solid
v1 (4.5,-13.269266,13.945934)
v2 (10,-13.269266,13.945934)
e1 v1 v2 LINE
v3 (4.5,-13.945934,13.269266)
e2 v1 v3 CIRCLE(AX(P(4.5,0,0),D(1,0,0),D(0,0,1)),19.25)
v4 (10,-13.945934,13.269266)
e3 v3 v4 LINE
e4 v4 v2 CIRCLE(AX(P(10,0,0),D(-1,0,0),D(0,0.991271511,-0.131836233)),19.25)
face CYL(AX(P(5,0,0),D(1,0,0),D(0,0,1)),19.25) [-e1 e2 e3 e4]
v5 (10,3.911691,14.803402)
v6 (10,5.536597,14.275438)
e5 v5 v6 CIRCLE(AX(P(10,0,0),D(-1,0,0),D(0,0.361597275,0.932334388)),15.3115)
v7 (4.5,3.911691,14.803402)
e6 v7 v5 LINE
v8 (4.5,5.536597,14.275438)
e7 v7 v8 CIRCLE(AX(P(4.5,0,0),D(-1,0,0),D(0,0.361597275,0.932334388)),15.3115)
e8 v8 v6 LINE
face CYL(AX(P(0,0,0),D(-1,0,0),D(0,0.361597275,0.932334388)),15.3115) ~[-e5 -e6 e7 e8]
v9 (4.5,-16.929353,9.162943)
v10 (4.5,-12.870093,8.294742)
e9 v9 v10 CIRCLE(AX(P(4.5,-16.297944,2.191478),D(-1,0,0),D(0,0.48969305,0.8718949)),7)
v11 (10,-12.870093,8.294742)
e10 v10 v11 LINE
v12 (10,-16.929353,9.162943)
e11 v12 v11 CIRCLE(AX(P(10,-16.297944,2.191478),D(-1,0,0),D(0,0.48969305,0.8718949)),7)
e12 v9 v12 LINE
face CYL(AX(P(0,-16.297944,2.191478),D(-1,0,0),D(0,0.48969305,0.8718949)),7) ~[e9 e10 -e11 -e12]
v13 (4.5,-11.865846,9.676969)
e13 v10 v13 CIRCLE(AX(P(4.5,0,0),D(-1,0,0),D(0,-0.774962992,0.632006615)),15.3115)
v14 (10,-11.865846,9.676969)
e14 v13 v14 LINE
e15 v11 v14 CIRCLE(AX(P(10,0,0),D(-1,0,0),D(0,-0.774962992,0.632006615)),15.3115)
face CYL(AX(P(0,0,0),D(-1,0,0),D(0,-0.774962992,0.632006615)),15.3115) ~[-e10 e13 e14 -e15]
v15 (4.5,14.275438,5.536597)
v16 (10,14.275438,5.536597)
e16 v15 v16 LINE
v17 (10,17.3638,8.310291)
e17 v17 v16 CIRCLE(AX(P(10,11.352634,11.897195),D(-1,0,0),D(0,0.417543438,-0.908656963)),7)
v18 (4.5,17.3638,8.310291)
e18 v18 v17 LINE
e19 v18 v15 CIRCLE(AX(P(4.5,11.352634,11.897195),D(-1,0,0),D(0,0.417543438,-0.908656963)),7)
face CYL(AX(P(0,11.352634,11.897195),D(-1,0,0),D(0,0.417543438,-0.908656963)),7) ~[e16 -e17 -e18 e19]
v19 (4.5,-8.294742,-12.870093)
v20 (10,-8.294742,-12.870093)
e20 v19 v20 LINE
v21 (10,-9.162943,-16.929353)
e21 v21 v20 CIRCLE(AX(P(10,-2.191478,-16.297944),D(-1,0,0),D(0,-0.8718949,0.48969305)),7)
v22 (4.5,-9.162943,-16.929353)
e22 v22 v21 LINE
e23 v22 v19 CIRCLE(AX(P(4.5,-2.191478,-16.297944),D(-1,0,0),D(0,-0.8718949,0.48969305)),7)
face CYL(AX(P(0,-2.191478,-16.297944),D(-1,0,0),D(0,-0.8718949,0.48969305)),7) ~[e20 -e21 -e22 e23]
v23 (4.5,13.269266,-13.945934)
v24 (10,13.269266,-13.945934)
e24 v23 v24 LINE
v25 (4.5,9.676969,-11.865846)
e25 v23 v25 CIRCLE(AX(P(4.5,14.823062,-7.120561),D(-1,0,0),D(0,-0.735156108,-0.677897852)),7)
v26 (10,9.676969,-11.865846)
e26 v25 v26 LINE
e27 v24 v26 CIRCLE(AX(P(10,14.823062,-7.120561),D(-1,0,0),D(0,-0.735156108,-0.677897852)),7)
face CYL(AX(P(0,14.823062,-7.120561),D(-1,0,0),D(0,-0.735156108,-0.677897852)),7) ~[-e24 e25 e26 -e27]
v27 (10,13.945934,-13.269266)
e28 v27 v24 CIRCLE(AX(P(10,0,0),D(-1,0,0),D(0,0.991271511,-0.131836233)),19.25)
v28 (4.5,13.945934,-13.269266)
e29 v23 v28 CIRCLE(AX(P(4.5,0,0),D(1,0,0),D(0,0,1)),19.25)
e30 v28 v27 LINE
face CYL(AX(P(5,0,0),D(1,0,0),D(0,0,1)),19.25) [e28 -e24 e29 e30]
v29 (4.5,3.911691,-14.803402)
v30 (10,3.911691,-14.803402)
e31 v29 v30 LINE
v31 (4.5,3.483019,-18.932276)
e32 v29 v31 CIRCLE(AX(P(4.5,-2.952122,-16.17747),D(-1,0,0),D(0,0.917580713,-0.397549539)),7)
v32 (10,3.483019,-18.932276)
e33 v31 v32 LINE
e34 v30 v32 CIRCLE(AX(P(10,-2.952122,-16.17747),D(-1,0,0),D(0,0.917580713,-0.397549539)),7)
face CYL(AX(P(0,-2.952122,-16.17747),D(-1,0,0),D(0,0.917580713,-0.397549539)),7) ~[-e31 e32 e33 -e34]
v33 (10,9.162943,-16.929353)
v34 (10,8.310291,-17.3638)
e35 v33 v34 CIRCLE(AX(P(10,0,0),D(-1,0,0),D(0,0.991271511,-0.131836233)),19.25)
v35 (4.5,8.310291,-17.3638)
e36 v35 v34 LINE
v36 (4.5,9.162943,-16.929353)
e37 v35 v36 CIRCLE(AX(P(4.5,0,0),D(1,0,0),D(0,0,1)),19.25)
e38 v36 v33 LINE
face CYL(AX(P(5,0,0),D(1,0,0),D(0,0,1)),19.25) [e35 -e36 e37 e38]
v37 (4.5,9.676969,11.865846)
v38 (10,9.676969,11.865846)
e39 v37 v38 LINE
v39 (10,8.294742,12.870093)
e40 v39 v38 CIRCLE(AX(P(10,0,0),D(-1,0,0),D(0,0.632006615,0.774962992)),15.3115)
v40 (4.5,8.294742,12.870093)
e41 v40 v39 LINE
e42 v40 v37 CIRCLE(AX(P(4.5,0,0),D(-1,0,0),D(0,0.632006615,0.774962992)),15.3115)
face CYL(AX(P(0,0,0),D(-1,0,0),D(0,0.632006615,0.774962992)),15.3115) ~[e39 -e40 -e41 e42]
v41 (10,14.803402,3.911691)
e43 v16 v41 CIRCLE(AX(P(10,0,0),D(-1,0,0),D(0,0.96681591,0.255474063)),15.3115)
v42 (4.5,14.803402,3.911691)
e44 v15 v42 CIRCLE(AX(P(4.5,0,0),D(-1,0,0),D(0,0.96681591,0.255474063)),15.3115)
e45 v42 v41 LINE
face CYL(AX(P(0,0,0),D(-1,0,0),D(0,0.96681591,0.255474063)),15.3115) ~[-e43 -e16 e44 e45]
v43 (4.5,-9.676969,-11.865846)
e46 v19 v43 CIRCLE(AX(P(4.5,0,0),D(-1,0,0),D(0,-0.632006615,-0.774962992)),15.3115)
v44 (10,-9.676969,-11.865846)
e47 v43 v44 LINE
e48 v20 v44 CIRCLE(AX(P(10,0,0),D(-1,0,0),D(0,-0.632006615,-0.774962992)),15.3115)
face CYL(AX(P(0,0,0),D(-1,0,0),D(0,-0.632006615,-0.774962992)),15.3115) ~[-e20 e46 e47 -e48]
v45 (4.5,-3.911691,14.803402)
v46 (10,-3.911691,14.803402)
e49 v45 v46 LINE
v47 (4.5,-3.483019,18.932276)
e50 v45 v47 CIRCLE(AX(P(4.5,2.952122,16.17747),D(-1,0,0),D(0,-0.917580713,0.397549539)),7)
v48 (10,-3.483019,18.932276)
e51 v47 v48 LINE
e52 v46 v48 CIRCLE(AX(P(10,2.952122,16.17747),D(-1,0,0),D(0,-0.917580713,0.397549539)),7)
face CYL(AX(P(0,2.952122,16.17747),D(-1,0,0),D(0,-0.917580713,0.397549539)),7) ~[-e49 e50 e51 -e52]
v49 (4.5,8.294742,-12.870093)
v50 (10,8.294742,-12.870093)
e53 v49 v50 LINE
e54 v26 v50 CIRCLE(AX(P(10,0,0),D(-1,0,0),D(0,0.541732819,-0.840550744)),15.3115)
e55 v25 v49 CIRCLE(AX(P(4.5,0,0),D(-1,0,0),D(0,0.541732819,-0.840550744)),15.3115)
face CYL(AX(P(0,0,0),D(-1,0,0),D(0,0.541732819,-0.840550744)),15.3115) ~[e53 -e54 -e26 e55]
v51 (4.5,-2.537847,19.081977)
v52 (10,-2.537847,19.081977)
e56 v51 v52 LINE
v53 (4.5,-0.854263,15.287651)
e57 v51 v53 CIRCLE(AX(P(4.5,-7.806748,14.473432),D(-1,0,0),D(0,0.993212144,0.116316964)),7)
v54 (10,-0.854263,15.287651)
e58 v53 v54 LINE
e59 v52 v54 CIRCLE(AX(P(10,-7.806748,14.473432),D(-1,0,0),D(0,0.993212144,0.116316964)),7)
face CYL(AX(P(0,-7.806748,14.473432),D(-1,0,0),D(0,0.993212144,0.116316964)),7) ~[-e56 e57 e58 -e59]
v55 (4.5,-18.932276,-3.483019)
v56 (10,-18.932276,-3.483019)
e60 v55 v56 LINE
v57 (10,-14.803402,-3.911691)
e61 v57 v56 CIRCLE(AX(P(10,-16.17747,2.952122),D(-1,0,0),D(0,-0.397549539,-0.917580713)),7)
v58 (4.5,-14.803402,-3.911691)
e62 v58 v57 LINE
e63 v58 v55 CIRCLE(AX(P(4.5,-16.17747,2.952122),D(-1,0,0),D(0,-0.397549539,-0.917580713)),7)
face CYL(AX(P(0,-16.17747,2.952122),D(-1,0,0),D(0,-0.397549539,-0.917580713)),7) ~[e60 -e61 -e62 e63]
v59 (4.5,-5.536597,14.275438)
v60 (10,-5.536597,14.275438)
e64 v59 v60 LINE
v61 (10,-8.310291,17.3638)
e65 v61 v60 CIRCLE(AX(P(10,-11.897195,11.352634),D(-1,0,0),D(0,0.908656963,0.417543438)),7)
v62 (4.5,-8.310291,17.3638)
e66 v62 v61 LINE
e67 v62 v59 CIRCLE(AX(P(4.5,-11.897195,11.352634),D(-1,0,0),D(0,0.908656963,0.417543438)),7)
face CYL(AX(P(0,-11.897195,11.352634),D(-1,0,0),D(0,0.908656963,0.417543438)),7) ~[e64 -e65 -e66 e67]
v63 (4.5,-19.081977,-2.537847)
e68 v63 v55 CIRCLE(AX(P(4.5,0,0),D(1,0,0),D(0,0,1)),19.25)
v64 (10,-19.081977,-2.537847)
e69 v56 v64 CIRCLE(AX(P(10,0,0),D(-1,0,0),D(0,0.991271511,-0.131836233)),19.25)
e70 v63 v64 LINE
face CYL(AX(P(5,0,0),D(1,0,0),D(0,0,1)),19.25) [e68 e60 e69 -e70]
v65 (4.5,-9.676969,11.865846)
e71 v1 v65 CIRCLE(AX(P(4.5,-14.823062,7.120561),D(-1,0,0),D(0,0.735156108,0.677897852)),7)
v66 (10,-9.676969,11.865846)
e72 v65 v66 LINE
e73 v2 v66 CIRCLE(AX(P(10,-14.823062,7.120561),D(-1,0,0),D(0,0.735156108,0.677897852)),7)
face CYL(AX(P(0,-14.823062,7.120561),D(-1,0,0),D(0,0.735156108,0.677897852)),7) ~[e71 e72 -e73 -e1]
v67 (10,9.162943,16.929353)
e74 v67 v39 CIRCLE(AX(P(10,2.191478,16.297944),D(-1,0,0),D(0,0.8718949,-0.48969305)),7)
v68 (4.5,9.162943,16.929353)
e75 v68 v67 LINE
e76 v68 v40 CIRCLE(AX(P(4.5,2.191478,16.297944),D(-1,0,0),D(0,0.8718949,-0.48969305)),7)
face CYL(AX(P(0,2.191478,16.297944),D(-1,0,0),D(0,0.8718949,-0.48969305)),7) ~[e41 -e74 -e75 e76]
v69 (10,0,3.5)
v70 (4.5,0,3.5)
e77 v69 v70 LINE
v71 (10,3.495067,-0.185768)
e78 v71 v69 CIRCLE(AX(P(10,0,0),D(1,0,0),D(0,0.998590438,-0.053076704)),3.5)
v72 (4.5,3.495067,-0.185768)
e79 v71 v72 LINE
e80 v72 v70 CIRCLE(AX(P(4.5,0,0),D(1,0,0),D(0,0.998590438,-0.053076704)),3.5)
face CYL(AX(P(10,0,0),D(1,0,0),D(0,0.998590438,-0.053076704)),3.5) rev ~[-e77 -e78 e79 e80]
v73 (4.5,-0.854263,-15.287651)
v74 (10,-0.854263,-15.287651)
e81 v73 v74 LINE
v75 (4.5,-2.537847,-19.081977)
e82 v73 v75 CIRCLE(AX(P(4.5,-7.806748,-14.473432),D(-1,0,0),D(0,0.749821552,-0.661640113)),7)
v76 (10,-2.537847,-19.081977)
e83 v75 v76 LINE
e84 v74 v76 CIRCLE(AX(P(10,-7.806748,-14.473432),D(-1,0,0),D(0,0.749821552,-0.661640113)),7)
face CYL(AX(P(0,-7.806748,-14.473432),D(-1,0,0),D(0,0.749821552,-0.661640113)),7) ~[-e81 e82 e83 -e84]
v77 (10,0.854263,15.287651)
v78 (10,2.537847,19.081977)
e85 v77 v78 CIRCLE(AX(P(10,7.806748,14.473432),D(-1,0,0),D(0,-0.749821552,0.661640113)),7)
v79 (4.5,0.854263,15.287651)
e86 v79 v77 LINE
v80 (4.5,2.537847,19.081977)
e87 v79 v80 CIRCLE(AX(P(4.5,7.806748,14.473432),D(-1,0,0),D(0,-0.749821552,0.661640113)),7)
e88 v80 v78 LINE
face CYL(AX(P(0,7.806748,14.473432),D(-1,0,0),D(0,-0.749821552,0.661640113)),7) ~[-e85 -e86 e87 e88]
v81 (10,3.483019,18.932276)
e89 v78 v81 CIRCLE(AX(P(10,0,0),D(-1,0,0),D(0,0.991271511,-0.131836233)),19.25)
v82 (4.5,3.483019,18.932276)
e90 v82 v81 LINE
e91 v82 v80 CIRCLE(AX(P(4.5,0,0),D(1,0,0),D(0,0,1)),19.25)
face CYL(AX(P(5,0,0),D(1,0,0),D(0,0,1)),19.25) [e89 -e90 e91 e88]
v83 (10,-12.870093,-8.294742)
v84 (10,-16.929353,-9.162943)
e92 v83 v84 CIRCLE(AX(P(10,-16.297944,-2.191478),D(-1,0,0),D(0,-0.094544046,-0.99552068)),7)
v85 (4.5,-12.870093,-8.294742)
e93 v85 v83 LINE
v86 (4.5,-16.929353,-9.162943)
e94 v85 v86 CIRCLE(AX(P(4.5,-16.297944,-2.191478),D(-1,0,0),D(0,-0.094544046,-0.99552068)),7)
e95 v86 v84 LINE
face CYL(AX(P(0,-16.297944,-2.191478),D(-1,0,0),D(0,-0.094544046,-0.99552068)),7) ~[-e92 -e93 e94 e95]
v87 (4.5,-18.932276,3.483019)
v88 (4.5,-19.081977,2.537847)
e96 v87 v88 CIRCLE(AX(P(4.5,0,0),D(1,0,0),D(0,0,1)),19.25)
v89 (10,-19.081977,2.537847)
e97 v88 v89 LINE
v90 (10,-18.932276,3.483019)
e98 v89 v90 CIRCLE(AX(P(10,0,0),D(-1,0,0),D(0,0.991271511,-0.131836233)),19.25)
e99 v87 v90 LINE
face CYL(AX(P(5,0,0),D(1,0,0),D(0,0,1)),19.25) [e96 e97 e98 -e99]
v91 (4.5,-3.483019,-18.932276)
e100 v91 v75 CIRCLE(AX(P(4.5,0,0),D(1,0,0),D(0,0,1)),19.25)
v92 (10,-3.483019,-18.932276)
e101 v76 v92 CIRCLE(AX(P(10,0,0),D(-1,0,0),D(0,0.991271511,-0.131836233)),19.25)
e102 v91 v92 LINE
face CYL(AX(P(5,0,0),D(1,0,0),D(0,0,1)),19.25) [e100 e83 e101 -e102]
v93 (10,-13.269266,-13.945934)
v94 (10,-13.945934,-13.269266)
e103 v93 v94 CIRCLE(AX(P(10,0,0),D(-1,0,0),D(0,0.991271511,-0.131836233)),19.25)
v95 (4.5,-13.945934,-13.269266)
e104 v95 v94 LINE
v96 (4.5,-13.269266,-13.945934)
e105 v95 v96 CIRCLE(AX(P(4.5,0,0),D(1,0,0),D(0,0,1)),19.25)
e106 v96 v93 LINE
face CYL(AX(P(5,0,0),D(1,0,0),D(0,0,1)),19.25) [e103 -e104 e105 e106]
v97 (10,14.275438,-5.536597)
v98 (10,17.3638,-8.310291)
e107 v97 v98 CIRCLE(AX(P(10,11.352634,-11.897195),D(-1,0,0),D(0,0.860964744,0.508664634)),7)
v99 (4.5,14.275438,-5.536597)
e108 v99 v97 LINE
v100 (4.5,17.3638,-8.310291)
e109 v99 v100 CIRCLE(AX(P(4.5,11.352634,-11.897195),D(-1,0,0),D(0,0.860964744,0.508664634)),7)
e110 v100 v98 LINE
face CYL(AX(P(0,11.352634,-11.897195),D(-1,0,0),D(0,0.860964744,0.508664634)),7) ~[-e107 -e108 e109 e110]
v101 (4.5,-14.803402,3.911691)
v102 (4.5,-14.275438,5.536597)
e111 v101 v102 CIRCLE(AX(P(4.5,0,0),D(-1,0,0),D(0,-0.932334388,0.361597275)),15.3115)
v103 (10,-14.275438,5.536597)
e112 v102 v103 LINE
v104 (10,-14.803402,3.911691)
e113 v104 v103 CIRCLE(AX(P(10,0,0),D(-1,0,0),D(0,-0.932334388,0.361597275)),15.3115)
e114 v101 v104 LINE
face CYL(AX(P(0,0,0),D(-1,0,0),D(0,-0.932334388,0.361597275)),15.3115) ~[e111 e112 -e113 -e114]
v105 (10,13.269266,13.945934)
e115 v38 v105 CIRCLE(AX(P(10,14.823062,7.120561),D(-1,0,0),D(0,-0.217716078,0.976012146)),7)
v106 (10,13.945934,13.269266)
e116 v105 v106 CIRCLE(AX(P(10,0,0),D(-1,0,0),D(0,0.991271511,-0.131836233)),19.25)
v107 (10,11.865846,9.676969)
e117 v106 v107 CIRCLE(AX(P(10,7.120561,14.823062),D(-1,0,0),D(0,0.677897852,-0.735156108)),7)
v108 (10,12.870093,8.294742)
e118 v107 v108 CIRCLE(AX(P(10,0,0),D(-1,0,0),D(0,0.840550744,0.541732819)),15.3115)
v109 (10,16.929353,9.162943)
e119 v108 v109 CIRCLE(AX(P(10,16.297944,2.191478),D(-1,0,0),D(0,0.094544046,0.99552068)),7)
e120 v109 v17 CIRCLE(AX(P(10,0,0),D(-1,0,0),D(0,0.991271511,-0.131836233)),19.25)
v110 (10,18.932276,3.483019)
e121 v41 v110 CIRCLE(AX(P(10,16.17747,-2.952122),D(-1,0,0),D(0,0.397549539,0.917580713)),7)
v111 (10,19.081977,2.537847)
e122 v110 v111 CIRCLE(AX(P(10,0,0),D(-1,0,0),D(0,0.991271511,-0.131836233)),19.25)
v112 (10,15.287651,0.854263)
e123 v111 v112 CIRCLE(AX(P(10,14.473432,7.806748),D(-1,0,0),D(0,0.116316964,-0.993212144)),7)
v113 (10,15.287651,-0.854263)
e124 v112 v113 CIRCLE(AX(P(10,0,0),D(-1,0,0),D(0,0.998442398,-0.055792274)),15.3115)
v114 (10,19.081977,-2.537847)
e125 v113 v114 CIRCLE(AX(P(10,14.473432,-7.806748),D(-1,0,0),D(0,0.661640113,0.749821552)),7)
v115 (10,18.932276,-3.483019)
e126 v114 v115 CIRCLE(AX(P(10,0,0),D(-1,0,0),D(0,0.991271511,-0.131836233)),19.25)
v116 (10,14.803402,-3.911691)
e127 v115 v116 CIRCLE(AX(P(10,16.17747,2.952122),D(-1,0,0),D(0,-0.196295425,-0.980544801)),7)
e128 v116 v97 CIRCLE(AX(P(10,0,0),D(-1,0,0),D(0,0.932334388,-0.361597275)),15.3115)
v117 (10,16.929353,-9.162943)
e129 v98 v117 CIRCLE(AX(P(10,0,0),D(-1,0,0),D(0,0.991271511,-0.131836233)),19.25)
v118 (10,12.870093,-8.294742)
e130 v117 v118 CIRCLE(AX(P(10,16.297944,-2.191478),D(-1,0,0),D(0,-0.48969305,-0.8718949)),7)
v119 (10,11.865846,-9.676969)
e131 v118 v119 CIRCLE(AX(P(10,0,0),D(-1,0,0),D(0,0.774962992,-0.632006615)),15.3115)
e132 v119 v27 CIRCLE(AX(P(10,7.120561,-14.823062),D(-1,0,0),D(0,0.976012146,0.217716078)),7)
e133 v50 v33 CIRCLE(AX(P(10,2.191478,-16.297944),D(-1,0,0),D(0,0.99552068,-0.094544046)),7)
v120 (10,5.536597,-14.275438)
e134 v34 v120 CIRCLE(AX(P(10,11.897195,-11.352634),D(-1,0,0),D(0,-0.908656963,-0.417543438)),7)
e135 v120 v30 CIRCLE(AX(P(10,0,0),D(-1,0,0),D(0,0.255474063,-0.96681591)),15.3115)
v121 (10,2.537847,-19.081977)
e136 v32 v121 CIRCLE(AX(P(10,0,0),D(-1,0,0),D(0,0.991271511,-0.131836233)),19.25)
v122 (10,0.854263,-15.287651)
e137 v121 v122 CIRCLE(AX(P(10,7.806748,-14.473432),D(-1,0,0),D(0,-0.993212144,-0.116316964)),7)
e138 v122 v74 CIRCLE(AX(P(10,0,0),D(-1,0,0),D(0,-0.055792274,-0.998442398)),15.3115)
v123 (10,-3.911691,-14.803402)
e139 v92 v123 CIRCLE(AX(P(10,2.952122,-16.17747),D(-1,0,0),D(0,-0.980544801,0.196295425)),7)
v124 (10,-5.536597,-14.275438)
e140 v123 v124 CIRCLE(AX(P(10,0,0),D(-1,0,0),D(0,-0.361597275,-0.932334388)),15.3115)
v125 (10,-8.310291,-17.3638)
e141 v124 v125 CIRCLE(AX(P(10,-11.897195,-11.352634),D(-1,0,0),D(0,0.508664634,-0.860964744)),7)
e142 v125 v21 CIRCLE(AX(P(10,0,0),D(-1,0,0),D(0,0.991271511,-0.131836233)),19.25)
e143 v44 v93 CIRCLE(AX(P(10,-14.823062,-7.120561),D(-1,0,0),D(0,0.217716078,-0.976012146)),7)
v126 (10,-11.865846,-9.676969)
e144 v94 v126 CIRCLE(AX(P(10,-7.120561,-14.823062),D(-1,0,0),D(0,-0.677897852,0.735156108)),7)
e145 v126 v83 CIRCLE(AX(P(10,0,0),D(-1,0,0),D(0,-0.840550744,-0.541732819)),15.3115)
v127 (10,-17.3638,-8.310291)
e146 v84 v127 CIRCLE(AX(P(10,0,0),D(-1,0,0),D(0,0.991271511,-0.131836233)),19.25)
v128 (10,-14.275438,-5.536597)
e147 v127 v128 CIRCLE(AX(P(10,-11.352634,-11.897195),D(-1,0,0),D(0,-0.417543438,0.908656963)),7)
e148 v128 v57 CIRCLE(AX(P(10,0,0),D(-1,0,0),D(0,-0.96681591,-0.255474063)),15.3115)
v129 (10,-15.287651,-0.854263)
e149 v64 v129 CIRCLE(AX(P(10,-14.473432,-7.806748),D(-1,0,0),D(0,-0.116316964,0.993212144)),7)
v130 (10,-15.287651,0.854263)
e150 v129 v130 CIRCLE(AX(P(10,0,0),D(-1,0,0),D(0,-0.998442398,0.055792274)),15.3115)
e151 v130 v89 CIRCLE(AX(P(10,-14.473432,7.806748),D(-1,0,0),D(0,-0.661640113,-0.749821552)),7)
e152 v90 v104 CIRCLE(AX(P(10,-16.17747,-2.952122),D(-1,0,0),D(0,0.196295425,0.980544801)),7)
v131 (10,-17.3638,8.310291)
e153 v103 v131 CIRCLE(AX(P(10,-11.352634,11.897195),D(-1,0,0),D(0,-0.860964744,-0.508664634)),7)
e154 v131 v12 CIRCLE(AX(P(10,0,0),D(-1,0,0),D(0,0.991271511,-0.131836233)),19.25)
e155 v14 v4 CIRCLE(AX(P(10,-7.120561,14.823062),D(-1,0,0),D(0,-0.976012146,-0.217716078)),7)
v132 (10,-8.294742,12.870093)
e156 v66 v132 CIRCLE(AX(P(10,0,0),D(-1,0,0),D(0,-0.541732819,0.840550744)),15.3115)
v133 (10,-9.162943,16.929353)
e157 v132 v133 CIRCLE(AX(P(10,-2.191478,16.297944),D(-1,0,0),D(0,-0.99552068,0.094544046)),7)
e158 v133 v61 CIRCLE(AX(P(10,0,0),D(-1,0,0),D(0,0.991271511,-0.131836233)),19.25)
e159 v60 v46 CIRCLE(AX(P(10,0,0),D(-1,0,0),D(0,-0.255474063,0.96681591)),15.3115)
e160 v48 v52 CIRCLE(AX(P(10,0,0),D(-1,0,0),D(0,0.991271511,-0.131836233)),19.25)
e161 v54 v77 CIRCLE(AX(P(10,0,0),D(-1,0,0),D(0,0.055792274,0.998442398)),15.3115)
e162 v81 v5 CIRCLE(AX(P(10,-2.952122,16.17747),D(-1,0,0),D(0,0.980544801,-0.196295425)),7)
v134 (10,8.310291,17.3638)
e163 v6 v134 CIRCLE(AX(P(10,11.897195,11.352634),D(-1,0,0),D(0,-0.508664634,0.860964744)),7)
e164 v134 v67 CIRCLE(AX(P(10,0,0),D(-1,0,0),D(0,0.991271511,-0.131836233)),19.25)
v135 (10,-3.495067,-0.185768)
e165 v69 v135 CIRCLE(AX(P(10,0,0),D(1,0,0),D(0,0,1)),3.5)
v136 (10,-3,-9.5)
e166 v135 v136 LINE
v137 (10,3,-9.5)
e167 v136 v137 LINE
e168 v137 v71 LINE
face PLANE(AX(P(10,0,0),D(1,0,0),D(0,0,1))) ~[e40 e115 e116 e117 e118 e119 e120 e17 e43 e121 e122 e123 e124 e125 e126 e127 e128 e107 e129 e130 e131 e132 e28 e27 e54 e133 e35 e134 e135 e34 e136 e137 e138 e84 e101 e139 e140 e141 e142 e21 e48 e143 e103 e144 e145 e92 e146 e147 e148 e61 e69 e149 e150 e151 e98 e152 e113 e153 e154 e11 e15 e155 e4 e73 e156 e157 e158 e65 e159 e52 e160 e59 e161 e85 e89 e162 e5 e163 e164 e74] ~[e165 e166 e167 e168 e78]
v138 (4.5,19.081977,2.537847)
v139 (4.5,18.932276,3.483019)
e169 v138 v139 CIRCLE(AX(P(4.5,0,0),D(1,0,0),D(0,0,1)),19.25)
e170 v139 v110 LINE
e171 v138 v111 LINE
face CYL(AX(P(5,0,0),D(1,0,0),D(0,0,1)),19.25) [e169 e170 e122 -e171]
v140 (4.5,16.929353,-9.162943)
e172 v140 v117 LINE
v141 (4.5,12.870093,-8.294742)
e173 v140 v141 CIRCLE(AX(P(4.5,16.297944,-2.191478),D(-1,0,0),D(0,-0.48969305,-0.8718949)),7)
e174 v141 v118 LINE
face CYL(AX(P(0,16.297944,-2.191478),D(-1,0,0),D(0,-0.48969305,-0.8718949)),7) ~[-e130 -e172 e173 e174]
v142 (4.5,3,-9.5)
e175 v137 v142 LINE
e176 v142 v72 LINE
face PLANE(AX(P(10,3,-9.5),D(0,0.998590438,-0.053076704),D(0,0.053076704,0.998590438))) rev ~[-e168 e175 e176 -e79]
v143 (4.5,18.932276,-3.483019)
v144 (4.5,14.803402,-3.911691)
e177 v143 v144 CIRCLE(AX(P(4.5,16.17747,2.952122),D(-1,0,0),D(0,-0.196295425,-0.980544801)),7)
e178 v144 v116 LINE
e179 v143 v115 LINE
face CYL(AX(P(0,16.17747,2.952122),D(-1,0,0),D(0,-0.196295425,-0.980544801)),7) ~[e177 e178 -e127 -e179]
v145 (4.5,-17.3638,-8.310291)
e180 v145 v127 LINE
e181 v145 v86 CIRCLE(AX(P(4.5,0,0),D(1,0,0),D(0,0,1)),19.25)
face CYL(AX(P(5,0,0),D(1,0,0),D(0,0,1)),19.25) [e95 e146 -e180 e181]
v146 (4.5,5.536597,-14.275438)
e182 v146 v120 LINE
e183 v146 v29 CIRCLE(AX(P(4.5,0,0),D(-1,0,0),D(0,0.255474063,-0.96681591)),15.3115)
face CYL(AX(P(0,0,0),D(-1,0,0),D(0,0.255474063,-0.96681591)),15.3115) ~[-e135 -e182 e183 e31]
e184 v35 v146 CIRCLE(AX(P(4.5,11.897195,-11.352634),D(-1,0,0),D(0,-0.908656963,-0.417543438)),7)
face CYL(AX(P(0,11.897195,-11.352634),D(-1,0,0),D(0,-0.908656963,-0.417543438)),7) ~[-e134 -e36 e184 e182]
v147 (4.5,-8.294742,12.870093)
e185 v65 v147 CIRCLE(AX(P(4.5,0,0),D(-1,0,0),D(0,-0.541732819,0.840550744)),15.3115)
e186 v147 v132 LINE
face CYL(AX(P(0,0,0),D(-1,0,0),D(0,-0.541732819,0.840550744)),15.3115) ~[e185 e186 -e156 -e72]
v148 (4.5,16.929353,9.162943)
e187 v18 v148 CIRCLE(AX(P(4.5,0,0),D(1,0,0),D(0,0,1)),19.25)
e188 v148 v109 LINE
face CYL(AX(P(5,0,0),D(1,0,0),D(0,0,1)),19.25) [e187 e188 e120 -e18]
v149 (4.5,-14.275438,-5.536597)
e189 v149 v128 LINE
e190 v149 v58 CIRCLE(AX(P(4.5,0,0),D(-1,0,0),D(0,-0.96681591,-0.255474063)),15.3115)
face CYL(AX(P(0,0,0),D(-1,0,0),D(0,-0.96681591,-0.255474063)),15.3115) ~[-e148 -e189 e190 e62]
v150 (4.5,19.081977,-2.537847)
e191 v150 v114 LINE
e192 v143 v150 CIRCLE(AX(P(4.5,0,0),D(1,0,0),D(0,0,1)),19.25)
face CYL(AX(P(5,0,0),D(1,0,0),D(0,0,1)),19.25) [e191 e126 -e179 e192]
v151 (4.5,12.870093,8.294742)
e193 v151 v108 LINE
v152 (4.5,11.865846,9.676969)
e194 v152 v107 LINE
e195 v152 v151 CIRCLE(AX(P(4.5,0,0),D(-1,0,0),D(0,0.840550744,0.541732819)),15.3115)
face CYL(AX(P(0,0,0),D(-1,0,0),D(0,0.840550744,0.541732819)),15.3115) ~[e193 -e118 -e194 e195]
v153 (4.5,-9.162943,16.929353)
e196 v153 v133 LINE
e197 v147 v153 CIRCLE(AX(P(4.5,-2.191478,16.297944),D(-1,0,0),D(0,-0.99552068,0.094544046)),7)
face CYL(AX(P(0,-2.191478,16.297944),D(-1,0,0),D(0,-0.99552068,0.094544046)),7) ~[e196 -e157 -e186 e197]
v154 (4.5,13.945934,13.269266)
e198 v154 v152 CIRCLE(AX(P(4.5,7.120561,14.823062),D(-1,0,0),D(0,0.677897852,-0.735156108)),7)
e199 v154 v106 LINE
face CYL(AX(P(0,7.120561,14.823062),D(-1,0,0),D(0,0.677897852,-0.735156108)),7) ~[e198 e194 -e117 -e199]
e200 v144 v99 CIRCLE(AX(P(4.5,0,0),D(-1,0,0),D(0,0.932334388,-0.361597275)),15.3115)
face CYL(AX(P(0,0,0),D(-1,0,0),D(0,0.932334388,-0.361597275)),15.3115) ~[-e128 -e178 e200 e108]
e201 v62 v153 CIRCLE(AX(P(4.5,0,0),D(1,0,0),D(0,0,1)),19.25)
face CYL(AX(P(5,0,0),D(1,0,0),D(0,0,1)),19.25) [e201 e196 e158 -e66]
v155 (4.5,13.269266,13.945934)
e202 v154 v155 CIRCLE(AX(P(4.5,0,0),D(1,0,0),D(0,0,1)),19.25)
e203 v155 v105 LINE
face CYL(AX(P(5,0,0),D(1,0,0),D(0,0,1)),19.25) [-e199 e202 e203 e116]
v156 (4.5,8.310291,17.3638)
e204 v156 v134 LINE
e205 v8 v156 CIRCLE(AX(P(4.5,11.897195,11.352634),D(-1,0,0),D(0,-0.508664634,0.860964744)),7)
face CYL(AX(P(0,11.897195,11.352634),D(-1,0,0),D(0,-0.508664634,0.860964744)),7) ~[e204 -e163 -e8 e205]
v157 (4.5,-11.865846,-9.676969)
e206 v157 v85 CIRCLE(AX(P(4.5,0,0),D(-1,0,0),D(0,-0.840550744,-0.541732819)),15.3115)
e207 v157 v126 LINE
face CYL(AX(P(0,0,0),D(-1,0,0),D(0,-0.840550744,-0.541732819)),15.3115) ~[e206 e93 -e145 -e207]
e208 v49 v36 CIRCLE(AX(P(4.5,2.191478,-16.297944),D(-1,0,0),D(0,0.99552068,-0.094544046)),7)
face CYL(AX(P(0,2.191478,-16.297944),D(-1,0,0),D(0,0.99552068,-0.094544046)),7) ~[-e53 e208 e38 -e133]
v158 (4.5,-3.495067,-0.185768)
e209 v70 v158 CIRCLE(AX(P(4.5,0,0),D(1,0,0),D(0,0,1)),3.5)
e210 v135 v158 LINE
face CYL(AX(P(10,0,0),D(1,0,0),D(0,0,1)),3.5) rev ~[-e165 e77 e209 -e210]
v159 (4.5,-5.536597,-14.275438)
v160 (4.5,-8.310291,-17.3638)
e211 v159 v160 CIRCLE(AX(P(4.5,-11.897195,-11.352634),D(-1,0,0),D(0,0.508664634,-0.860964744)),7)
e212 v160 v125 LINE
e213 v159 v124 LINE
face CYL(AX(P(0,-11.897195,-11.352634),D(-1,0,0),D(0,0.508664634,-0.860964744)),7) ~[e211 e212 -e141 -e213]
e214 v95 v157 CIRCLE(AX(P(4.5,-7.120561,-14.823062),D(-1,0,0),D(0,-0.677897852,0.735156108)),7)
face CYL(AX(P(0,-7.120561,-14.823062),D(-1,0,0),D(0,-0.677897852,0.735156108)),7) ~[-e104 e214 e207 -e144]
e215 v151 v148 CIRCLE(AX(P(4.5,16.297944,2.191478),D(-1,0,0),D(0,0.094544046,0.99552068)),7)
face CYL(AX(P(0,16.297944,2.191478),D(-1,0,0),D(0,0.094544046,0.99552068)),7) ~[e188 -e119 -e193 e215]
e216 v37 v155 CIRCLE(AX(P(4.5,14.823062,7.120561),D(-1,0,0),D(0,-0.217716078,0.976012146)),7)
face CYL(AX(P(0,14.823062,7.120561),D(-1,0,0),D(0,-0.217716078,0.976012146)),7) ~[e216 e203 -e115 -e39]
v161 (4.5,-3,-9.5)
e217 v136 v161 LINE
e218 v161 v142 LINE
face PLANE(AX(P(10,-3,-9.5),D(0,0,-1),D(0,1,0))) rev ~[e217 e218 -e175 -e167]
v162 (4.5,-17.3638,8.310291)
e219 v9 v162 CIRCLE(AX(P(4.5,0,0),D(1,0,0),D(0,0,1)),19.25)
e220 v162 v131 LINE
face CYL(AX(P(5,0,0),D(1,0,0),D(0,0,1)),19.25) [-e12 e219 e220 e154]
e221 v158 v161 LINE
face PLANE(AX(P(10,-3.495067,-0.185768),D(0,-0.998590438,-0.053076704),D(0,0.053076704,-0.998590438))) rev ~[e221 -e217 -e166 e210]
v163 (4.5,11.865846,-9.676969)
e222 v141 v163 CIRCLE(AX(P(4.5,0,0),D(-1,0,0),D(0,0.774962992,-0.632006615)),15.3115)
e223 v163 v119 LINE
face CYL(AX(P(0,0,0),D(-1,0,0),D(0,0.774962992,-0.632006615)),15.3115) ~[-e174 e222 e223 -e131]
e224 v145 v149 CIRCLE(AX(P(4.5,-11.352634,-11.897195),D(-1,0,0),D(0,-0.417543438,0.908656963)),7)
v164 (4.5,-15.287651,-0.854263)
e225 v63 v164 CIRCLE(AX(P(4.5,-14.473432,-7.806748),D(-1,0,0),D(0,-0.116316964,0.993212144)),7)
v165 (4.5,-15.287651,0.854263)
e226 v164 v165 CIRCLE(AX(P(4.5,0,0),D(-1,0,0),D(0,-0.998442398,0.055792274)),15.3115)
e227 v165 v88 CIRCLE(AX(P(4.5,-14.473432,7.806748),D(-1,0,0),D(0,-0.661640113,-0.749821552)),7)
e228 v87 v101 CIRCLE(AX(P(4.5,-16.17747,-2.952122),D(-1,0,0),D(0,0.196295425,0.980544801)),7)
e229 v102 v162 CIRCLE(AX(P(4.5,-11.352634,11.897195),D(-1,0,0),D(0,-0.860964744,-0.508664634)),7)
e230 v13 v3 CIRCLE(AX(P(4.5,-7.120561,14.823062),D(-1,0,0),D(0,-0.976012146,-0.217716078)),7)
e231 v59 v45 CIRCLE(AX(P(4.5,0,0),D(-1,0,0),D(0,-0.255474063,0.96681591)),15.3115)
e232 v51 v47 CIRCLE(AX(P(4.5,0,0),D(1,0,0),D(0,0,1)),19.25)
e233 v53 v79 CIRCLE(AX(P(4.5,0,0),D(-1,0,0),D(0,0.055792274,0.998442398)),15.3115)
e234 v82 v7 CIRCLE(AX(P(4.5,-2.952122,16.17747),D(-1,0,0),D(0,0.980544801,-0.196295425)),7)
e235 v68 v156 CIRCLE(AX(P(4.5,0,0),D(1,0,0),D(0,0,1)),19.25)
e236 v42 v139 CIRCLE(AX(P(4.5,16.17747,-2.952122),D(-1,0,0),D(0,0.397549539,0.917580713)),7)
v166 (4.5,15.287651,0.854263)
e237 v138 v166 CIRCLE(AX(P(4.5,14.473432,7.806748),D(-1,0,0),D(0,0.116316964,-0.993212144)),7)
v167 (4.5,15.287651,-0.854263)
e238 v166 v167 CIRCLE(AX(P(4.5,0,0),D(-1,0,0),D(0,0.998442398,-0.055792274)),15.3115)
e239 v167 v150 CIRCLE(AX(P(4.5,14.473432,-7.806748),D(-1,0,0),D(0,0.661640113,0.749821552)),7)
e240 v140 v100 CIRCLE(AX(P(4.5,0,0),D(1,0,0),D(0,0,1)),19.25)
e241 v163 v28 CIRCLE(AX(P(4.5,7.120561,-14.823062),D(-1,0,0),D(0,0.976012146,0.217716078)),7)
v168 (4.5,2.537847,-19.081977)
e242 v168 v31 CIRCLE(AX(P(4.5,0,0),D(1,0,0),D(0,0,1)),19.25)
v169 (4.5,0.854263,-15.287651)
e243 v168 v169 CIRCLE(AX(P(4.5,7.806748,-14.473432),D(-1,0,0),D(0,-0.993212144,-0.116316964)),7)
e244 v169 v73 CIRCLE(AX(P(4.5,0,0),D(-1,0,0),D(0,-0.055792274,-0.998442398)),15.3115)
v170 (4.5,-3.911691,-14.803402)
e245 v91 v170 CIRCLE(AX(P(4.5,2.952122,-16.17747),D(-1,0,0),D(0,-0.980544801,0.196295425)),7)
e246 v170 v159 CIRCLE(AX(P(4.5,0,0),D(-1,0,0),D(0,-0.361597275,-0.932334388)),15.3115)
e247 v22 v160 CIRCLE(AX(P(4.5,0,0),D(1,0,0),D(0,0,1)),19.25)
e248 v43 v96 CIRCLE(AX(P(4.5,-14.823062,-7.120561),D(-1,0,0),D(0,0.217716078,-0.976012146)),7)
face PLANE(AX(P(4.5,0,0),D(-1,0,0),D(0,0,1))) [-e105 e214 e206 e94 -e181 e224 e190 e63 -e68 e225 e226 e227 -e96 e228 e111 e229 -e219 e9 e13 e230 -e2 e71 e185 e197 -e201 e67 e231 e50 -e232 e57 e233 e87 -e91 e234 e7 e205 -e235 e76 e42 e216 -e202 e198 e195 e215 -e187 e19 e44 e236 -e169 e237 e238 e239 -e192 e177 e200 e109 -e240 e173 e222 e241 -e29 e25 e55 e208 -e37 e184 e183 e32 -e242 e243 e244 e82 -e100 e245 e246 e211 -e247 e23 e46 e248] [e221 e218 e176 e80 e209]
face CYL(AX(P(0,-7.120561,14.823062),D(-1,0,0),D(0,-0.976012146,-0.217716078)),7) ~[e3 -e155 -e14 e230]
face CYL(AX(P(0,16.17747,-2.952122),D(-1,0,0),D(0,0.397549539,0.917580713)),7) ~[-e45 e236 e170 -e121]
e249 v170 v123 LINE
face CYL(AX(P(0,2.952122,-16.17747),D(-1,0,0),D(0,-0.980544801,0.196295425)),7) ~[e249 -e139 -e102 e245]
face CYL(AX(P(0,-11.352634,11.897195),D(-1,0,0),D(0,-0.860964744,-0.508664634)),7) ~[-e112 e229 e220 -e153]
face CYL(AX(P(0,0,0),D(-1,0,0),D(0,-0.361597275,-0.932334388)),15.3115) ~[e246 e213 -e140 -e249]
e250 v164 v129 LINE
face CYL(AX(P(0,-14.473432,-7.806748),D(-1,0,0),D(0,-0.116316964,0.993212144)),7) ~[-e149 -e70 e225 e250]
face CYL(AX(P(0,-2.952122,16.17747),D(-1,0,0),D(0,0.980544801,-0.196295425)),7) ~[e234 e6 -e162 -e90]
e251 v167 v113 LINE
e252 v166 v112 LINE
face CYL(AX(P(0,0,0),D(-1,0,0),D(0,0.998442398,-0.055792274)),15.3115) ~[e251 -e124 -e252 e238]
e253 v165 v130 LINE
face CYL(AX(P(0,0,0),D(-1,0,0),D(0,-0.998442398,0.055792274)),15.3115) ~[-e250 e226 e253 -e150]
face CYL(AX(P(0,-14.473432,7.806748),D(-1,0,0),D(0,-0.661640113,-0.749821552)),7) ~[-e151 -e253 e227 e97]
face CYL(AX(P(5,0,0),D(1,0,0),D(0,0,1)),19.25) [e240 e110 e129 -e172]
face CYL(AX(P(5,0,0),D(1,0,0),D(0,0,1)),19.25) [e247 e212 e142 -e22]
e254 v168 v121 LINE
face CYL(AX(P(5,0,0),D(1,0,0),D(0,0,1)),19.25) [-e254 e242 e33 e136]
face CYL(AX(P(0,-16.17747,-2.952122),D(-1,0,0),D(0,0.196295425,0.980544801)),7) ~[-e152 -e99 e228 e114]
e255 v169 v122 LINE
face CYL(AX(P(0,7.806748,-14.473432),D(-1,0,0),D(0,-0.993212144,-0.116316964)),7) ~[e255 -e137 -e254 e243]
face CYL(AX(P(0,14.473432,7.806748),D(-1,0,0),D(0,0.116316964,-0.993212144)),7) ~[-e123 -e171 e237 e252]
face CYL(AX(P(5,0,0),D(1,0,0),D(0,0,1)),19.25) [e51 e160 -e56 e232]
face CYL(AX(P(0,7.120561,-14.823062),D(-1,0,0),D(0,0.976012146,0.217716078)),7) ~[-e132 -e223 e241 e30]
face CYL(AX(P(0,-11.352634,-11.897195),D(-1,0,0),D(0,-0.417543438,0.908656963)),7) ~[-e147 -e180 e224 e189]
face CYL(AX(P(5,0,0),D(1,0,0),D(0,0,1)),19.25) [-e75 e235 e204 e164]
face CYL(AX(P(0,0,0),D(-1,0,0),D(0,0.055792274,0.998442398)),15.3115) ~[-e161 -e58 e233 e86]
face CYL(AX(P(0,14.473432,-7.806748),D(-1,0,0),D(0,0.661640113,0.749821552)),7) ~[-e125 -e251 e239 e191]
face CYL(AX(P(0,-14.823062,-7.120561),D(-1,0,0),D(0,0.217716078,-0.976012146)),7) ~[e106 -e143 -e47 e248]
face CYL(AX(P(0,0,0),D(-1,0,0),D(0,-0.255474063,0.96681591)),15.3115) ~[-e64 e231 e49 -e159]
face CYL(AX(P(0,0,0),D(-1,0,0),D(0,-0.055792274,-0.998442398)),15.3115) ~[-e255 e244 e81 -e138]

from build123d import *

# Parameters (mm, degrees)
BASPROSKE_W         = 10
BASPROSKE_H         = 19.25
TOOTHCUT_DEPTH      = 30.002155092
TEETHCUTS_COUNT     = 20
TEETHCUTS_ANGLE     = 342
BORSKE_R            = 0.4
BORE_DEPTH          = 50.0000508
SKETCH1_R           = 2.5
CUT_EXTRUDE1_DEPTH  = 29.779222719
CUT_EXTRUDE_1_DEPTH = 5.5
SKETCH_4_R          = 25
CUT_EXTRUDE_2_DEPTH = 4.5


with BuildPart() as part:
    # BasProSke → Base-Revolve (revolve)
    with BuildSketch(Plane(origin=(0, 0, 0), x_dir=(1, 0, 0), z_dir=(0, 1, 0)), mode=Mode.PRIVATE) as base_revolve_sk:
        with Locations((5, 9.625)):
            Rectangle(BASPROSKE_W, BASPROSKE_H)
    revolve(base_revolve_sk.sketch.rotate(Axis((-10, 0, 0), (1, 0, 0)), 180), axis=Axis((-10, 0, 0), (1, 0, 0)))

    # TooCutSke → ToothCut (cut, through all)
    with BuildSketch(Plane(origin=(0, 0, 0), x_dir=(0, 0, -1), z_dir=(1, 0, 0))):
        with BuildLine():
            ThreePointArc((0.85426341, 15.287650777), (0, 15.3115), (-0.85426341, 15.287650777))
            ThreePointArc((-0.85426341, 15.287650777), (-1.414533498, 17.326428412), (-2.557997552, 19.104912815))
            ThreePointArc((-2.557997552, 19.104912815), (0, 19.2754), (2.557997552, 19.104912815))
            ThreePointArc((2.557997552, 19.104912815), (1.414533498, 17.326428412), (0.85426341, 15.287650777))
        make_face()
    toothcut = extrude(amount=TOOTHCUT_DEPTH, mode=Mode.SUBTRACT)

    # TeethCuts: ToothCut ×20 about axis
    teethcuts_axis = Axis((-10, 0, 0), (1, 0, 0))
    for i in range(1, TEETHCUTS_COUNT):
        add(toothcut.rotate(teethcuts_axis, i * TEETHCUTS_ANGLE / (TEETHCUTS_COUNT - 1)), mode=Mode.SUBTRACT)

    # BorSke → Bore (cut, symmetric)
    with BuildSketch(Plane(origin=(0, 0, 0), x_dir=(0, 0, -1), z_dir=(1, 0, 0))):
        with Locations(Location((0, 0, 0), (0, 0, 180))):
            Circle(BORSKE_R)
    extrude(amount=BORE_DEPTH, both=True, mode=Mode.SUBTRACT)

    # Sketch1 → Cut-Extrude1 (cut, through all)
    with BuildSketch(Plane(origin=(10, 0, 0), x_dir=(0, 0, -1), z_dir=(1, 0, 0))):
        Circle(SKETCH1_R)
    extrude(amount=-CUT_EXTRUDE1_DEPTH, mode=Mode.SUBTRACT)

    # 草图2 → 切除-拉伸1 (cut)
    with BuildSketch(Plane(origin=(10, 0, 0), x_dir=(0, 0, -1), z_dir=(1, 0, 0))):
        with BuildLine():
            ThreePointArc((0.185768463, 3.495066534), (-2.408299232, 2.539703685), (-3.5, 0))
            Line((-3.5, 0), (9.5, 0))
            Line((9.5, 0), (9.5, 3))
            Line((9.5, 3), (0.185768463, 3.495066534))
        make_face()
        with BuildLine():
            Line((9.5, 0), (-3.5, 0))
            ThreePointArc((-3.5, 0), (-2.408299232, -2.539703685), (0.185768463, -3.495066534))
            Line((0.185768463, -3.495066534), (9.5, -3))
            Line((9.5, -3), (9.5, 0))
        make_face()
    extrude(amount=-CUT_EXTRUDE_1_DEPTH, mode=Mode.SUBTRACT)

    # 草图4 → 切除-拉伸2 (cut)
    with BuildSketch(Plane.ZY):
        Circle(SKETCH_4_R)
    extrude(amount=-CUT_EXTRUDE_2_DEPTH, mode=Mode.SUBTRACT)


solid = part.part
